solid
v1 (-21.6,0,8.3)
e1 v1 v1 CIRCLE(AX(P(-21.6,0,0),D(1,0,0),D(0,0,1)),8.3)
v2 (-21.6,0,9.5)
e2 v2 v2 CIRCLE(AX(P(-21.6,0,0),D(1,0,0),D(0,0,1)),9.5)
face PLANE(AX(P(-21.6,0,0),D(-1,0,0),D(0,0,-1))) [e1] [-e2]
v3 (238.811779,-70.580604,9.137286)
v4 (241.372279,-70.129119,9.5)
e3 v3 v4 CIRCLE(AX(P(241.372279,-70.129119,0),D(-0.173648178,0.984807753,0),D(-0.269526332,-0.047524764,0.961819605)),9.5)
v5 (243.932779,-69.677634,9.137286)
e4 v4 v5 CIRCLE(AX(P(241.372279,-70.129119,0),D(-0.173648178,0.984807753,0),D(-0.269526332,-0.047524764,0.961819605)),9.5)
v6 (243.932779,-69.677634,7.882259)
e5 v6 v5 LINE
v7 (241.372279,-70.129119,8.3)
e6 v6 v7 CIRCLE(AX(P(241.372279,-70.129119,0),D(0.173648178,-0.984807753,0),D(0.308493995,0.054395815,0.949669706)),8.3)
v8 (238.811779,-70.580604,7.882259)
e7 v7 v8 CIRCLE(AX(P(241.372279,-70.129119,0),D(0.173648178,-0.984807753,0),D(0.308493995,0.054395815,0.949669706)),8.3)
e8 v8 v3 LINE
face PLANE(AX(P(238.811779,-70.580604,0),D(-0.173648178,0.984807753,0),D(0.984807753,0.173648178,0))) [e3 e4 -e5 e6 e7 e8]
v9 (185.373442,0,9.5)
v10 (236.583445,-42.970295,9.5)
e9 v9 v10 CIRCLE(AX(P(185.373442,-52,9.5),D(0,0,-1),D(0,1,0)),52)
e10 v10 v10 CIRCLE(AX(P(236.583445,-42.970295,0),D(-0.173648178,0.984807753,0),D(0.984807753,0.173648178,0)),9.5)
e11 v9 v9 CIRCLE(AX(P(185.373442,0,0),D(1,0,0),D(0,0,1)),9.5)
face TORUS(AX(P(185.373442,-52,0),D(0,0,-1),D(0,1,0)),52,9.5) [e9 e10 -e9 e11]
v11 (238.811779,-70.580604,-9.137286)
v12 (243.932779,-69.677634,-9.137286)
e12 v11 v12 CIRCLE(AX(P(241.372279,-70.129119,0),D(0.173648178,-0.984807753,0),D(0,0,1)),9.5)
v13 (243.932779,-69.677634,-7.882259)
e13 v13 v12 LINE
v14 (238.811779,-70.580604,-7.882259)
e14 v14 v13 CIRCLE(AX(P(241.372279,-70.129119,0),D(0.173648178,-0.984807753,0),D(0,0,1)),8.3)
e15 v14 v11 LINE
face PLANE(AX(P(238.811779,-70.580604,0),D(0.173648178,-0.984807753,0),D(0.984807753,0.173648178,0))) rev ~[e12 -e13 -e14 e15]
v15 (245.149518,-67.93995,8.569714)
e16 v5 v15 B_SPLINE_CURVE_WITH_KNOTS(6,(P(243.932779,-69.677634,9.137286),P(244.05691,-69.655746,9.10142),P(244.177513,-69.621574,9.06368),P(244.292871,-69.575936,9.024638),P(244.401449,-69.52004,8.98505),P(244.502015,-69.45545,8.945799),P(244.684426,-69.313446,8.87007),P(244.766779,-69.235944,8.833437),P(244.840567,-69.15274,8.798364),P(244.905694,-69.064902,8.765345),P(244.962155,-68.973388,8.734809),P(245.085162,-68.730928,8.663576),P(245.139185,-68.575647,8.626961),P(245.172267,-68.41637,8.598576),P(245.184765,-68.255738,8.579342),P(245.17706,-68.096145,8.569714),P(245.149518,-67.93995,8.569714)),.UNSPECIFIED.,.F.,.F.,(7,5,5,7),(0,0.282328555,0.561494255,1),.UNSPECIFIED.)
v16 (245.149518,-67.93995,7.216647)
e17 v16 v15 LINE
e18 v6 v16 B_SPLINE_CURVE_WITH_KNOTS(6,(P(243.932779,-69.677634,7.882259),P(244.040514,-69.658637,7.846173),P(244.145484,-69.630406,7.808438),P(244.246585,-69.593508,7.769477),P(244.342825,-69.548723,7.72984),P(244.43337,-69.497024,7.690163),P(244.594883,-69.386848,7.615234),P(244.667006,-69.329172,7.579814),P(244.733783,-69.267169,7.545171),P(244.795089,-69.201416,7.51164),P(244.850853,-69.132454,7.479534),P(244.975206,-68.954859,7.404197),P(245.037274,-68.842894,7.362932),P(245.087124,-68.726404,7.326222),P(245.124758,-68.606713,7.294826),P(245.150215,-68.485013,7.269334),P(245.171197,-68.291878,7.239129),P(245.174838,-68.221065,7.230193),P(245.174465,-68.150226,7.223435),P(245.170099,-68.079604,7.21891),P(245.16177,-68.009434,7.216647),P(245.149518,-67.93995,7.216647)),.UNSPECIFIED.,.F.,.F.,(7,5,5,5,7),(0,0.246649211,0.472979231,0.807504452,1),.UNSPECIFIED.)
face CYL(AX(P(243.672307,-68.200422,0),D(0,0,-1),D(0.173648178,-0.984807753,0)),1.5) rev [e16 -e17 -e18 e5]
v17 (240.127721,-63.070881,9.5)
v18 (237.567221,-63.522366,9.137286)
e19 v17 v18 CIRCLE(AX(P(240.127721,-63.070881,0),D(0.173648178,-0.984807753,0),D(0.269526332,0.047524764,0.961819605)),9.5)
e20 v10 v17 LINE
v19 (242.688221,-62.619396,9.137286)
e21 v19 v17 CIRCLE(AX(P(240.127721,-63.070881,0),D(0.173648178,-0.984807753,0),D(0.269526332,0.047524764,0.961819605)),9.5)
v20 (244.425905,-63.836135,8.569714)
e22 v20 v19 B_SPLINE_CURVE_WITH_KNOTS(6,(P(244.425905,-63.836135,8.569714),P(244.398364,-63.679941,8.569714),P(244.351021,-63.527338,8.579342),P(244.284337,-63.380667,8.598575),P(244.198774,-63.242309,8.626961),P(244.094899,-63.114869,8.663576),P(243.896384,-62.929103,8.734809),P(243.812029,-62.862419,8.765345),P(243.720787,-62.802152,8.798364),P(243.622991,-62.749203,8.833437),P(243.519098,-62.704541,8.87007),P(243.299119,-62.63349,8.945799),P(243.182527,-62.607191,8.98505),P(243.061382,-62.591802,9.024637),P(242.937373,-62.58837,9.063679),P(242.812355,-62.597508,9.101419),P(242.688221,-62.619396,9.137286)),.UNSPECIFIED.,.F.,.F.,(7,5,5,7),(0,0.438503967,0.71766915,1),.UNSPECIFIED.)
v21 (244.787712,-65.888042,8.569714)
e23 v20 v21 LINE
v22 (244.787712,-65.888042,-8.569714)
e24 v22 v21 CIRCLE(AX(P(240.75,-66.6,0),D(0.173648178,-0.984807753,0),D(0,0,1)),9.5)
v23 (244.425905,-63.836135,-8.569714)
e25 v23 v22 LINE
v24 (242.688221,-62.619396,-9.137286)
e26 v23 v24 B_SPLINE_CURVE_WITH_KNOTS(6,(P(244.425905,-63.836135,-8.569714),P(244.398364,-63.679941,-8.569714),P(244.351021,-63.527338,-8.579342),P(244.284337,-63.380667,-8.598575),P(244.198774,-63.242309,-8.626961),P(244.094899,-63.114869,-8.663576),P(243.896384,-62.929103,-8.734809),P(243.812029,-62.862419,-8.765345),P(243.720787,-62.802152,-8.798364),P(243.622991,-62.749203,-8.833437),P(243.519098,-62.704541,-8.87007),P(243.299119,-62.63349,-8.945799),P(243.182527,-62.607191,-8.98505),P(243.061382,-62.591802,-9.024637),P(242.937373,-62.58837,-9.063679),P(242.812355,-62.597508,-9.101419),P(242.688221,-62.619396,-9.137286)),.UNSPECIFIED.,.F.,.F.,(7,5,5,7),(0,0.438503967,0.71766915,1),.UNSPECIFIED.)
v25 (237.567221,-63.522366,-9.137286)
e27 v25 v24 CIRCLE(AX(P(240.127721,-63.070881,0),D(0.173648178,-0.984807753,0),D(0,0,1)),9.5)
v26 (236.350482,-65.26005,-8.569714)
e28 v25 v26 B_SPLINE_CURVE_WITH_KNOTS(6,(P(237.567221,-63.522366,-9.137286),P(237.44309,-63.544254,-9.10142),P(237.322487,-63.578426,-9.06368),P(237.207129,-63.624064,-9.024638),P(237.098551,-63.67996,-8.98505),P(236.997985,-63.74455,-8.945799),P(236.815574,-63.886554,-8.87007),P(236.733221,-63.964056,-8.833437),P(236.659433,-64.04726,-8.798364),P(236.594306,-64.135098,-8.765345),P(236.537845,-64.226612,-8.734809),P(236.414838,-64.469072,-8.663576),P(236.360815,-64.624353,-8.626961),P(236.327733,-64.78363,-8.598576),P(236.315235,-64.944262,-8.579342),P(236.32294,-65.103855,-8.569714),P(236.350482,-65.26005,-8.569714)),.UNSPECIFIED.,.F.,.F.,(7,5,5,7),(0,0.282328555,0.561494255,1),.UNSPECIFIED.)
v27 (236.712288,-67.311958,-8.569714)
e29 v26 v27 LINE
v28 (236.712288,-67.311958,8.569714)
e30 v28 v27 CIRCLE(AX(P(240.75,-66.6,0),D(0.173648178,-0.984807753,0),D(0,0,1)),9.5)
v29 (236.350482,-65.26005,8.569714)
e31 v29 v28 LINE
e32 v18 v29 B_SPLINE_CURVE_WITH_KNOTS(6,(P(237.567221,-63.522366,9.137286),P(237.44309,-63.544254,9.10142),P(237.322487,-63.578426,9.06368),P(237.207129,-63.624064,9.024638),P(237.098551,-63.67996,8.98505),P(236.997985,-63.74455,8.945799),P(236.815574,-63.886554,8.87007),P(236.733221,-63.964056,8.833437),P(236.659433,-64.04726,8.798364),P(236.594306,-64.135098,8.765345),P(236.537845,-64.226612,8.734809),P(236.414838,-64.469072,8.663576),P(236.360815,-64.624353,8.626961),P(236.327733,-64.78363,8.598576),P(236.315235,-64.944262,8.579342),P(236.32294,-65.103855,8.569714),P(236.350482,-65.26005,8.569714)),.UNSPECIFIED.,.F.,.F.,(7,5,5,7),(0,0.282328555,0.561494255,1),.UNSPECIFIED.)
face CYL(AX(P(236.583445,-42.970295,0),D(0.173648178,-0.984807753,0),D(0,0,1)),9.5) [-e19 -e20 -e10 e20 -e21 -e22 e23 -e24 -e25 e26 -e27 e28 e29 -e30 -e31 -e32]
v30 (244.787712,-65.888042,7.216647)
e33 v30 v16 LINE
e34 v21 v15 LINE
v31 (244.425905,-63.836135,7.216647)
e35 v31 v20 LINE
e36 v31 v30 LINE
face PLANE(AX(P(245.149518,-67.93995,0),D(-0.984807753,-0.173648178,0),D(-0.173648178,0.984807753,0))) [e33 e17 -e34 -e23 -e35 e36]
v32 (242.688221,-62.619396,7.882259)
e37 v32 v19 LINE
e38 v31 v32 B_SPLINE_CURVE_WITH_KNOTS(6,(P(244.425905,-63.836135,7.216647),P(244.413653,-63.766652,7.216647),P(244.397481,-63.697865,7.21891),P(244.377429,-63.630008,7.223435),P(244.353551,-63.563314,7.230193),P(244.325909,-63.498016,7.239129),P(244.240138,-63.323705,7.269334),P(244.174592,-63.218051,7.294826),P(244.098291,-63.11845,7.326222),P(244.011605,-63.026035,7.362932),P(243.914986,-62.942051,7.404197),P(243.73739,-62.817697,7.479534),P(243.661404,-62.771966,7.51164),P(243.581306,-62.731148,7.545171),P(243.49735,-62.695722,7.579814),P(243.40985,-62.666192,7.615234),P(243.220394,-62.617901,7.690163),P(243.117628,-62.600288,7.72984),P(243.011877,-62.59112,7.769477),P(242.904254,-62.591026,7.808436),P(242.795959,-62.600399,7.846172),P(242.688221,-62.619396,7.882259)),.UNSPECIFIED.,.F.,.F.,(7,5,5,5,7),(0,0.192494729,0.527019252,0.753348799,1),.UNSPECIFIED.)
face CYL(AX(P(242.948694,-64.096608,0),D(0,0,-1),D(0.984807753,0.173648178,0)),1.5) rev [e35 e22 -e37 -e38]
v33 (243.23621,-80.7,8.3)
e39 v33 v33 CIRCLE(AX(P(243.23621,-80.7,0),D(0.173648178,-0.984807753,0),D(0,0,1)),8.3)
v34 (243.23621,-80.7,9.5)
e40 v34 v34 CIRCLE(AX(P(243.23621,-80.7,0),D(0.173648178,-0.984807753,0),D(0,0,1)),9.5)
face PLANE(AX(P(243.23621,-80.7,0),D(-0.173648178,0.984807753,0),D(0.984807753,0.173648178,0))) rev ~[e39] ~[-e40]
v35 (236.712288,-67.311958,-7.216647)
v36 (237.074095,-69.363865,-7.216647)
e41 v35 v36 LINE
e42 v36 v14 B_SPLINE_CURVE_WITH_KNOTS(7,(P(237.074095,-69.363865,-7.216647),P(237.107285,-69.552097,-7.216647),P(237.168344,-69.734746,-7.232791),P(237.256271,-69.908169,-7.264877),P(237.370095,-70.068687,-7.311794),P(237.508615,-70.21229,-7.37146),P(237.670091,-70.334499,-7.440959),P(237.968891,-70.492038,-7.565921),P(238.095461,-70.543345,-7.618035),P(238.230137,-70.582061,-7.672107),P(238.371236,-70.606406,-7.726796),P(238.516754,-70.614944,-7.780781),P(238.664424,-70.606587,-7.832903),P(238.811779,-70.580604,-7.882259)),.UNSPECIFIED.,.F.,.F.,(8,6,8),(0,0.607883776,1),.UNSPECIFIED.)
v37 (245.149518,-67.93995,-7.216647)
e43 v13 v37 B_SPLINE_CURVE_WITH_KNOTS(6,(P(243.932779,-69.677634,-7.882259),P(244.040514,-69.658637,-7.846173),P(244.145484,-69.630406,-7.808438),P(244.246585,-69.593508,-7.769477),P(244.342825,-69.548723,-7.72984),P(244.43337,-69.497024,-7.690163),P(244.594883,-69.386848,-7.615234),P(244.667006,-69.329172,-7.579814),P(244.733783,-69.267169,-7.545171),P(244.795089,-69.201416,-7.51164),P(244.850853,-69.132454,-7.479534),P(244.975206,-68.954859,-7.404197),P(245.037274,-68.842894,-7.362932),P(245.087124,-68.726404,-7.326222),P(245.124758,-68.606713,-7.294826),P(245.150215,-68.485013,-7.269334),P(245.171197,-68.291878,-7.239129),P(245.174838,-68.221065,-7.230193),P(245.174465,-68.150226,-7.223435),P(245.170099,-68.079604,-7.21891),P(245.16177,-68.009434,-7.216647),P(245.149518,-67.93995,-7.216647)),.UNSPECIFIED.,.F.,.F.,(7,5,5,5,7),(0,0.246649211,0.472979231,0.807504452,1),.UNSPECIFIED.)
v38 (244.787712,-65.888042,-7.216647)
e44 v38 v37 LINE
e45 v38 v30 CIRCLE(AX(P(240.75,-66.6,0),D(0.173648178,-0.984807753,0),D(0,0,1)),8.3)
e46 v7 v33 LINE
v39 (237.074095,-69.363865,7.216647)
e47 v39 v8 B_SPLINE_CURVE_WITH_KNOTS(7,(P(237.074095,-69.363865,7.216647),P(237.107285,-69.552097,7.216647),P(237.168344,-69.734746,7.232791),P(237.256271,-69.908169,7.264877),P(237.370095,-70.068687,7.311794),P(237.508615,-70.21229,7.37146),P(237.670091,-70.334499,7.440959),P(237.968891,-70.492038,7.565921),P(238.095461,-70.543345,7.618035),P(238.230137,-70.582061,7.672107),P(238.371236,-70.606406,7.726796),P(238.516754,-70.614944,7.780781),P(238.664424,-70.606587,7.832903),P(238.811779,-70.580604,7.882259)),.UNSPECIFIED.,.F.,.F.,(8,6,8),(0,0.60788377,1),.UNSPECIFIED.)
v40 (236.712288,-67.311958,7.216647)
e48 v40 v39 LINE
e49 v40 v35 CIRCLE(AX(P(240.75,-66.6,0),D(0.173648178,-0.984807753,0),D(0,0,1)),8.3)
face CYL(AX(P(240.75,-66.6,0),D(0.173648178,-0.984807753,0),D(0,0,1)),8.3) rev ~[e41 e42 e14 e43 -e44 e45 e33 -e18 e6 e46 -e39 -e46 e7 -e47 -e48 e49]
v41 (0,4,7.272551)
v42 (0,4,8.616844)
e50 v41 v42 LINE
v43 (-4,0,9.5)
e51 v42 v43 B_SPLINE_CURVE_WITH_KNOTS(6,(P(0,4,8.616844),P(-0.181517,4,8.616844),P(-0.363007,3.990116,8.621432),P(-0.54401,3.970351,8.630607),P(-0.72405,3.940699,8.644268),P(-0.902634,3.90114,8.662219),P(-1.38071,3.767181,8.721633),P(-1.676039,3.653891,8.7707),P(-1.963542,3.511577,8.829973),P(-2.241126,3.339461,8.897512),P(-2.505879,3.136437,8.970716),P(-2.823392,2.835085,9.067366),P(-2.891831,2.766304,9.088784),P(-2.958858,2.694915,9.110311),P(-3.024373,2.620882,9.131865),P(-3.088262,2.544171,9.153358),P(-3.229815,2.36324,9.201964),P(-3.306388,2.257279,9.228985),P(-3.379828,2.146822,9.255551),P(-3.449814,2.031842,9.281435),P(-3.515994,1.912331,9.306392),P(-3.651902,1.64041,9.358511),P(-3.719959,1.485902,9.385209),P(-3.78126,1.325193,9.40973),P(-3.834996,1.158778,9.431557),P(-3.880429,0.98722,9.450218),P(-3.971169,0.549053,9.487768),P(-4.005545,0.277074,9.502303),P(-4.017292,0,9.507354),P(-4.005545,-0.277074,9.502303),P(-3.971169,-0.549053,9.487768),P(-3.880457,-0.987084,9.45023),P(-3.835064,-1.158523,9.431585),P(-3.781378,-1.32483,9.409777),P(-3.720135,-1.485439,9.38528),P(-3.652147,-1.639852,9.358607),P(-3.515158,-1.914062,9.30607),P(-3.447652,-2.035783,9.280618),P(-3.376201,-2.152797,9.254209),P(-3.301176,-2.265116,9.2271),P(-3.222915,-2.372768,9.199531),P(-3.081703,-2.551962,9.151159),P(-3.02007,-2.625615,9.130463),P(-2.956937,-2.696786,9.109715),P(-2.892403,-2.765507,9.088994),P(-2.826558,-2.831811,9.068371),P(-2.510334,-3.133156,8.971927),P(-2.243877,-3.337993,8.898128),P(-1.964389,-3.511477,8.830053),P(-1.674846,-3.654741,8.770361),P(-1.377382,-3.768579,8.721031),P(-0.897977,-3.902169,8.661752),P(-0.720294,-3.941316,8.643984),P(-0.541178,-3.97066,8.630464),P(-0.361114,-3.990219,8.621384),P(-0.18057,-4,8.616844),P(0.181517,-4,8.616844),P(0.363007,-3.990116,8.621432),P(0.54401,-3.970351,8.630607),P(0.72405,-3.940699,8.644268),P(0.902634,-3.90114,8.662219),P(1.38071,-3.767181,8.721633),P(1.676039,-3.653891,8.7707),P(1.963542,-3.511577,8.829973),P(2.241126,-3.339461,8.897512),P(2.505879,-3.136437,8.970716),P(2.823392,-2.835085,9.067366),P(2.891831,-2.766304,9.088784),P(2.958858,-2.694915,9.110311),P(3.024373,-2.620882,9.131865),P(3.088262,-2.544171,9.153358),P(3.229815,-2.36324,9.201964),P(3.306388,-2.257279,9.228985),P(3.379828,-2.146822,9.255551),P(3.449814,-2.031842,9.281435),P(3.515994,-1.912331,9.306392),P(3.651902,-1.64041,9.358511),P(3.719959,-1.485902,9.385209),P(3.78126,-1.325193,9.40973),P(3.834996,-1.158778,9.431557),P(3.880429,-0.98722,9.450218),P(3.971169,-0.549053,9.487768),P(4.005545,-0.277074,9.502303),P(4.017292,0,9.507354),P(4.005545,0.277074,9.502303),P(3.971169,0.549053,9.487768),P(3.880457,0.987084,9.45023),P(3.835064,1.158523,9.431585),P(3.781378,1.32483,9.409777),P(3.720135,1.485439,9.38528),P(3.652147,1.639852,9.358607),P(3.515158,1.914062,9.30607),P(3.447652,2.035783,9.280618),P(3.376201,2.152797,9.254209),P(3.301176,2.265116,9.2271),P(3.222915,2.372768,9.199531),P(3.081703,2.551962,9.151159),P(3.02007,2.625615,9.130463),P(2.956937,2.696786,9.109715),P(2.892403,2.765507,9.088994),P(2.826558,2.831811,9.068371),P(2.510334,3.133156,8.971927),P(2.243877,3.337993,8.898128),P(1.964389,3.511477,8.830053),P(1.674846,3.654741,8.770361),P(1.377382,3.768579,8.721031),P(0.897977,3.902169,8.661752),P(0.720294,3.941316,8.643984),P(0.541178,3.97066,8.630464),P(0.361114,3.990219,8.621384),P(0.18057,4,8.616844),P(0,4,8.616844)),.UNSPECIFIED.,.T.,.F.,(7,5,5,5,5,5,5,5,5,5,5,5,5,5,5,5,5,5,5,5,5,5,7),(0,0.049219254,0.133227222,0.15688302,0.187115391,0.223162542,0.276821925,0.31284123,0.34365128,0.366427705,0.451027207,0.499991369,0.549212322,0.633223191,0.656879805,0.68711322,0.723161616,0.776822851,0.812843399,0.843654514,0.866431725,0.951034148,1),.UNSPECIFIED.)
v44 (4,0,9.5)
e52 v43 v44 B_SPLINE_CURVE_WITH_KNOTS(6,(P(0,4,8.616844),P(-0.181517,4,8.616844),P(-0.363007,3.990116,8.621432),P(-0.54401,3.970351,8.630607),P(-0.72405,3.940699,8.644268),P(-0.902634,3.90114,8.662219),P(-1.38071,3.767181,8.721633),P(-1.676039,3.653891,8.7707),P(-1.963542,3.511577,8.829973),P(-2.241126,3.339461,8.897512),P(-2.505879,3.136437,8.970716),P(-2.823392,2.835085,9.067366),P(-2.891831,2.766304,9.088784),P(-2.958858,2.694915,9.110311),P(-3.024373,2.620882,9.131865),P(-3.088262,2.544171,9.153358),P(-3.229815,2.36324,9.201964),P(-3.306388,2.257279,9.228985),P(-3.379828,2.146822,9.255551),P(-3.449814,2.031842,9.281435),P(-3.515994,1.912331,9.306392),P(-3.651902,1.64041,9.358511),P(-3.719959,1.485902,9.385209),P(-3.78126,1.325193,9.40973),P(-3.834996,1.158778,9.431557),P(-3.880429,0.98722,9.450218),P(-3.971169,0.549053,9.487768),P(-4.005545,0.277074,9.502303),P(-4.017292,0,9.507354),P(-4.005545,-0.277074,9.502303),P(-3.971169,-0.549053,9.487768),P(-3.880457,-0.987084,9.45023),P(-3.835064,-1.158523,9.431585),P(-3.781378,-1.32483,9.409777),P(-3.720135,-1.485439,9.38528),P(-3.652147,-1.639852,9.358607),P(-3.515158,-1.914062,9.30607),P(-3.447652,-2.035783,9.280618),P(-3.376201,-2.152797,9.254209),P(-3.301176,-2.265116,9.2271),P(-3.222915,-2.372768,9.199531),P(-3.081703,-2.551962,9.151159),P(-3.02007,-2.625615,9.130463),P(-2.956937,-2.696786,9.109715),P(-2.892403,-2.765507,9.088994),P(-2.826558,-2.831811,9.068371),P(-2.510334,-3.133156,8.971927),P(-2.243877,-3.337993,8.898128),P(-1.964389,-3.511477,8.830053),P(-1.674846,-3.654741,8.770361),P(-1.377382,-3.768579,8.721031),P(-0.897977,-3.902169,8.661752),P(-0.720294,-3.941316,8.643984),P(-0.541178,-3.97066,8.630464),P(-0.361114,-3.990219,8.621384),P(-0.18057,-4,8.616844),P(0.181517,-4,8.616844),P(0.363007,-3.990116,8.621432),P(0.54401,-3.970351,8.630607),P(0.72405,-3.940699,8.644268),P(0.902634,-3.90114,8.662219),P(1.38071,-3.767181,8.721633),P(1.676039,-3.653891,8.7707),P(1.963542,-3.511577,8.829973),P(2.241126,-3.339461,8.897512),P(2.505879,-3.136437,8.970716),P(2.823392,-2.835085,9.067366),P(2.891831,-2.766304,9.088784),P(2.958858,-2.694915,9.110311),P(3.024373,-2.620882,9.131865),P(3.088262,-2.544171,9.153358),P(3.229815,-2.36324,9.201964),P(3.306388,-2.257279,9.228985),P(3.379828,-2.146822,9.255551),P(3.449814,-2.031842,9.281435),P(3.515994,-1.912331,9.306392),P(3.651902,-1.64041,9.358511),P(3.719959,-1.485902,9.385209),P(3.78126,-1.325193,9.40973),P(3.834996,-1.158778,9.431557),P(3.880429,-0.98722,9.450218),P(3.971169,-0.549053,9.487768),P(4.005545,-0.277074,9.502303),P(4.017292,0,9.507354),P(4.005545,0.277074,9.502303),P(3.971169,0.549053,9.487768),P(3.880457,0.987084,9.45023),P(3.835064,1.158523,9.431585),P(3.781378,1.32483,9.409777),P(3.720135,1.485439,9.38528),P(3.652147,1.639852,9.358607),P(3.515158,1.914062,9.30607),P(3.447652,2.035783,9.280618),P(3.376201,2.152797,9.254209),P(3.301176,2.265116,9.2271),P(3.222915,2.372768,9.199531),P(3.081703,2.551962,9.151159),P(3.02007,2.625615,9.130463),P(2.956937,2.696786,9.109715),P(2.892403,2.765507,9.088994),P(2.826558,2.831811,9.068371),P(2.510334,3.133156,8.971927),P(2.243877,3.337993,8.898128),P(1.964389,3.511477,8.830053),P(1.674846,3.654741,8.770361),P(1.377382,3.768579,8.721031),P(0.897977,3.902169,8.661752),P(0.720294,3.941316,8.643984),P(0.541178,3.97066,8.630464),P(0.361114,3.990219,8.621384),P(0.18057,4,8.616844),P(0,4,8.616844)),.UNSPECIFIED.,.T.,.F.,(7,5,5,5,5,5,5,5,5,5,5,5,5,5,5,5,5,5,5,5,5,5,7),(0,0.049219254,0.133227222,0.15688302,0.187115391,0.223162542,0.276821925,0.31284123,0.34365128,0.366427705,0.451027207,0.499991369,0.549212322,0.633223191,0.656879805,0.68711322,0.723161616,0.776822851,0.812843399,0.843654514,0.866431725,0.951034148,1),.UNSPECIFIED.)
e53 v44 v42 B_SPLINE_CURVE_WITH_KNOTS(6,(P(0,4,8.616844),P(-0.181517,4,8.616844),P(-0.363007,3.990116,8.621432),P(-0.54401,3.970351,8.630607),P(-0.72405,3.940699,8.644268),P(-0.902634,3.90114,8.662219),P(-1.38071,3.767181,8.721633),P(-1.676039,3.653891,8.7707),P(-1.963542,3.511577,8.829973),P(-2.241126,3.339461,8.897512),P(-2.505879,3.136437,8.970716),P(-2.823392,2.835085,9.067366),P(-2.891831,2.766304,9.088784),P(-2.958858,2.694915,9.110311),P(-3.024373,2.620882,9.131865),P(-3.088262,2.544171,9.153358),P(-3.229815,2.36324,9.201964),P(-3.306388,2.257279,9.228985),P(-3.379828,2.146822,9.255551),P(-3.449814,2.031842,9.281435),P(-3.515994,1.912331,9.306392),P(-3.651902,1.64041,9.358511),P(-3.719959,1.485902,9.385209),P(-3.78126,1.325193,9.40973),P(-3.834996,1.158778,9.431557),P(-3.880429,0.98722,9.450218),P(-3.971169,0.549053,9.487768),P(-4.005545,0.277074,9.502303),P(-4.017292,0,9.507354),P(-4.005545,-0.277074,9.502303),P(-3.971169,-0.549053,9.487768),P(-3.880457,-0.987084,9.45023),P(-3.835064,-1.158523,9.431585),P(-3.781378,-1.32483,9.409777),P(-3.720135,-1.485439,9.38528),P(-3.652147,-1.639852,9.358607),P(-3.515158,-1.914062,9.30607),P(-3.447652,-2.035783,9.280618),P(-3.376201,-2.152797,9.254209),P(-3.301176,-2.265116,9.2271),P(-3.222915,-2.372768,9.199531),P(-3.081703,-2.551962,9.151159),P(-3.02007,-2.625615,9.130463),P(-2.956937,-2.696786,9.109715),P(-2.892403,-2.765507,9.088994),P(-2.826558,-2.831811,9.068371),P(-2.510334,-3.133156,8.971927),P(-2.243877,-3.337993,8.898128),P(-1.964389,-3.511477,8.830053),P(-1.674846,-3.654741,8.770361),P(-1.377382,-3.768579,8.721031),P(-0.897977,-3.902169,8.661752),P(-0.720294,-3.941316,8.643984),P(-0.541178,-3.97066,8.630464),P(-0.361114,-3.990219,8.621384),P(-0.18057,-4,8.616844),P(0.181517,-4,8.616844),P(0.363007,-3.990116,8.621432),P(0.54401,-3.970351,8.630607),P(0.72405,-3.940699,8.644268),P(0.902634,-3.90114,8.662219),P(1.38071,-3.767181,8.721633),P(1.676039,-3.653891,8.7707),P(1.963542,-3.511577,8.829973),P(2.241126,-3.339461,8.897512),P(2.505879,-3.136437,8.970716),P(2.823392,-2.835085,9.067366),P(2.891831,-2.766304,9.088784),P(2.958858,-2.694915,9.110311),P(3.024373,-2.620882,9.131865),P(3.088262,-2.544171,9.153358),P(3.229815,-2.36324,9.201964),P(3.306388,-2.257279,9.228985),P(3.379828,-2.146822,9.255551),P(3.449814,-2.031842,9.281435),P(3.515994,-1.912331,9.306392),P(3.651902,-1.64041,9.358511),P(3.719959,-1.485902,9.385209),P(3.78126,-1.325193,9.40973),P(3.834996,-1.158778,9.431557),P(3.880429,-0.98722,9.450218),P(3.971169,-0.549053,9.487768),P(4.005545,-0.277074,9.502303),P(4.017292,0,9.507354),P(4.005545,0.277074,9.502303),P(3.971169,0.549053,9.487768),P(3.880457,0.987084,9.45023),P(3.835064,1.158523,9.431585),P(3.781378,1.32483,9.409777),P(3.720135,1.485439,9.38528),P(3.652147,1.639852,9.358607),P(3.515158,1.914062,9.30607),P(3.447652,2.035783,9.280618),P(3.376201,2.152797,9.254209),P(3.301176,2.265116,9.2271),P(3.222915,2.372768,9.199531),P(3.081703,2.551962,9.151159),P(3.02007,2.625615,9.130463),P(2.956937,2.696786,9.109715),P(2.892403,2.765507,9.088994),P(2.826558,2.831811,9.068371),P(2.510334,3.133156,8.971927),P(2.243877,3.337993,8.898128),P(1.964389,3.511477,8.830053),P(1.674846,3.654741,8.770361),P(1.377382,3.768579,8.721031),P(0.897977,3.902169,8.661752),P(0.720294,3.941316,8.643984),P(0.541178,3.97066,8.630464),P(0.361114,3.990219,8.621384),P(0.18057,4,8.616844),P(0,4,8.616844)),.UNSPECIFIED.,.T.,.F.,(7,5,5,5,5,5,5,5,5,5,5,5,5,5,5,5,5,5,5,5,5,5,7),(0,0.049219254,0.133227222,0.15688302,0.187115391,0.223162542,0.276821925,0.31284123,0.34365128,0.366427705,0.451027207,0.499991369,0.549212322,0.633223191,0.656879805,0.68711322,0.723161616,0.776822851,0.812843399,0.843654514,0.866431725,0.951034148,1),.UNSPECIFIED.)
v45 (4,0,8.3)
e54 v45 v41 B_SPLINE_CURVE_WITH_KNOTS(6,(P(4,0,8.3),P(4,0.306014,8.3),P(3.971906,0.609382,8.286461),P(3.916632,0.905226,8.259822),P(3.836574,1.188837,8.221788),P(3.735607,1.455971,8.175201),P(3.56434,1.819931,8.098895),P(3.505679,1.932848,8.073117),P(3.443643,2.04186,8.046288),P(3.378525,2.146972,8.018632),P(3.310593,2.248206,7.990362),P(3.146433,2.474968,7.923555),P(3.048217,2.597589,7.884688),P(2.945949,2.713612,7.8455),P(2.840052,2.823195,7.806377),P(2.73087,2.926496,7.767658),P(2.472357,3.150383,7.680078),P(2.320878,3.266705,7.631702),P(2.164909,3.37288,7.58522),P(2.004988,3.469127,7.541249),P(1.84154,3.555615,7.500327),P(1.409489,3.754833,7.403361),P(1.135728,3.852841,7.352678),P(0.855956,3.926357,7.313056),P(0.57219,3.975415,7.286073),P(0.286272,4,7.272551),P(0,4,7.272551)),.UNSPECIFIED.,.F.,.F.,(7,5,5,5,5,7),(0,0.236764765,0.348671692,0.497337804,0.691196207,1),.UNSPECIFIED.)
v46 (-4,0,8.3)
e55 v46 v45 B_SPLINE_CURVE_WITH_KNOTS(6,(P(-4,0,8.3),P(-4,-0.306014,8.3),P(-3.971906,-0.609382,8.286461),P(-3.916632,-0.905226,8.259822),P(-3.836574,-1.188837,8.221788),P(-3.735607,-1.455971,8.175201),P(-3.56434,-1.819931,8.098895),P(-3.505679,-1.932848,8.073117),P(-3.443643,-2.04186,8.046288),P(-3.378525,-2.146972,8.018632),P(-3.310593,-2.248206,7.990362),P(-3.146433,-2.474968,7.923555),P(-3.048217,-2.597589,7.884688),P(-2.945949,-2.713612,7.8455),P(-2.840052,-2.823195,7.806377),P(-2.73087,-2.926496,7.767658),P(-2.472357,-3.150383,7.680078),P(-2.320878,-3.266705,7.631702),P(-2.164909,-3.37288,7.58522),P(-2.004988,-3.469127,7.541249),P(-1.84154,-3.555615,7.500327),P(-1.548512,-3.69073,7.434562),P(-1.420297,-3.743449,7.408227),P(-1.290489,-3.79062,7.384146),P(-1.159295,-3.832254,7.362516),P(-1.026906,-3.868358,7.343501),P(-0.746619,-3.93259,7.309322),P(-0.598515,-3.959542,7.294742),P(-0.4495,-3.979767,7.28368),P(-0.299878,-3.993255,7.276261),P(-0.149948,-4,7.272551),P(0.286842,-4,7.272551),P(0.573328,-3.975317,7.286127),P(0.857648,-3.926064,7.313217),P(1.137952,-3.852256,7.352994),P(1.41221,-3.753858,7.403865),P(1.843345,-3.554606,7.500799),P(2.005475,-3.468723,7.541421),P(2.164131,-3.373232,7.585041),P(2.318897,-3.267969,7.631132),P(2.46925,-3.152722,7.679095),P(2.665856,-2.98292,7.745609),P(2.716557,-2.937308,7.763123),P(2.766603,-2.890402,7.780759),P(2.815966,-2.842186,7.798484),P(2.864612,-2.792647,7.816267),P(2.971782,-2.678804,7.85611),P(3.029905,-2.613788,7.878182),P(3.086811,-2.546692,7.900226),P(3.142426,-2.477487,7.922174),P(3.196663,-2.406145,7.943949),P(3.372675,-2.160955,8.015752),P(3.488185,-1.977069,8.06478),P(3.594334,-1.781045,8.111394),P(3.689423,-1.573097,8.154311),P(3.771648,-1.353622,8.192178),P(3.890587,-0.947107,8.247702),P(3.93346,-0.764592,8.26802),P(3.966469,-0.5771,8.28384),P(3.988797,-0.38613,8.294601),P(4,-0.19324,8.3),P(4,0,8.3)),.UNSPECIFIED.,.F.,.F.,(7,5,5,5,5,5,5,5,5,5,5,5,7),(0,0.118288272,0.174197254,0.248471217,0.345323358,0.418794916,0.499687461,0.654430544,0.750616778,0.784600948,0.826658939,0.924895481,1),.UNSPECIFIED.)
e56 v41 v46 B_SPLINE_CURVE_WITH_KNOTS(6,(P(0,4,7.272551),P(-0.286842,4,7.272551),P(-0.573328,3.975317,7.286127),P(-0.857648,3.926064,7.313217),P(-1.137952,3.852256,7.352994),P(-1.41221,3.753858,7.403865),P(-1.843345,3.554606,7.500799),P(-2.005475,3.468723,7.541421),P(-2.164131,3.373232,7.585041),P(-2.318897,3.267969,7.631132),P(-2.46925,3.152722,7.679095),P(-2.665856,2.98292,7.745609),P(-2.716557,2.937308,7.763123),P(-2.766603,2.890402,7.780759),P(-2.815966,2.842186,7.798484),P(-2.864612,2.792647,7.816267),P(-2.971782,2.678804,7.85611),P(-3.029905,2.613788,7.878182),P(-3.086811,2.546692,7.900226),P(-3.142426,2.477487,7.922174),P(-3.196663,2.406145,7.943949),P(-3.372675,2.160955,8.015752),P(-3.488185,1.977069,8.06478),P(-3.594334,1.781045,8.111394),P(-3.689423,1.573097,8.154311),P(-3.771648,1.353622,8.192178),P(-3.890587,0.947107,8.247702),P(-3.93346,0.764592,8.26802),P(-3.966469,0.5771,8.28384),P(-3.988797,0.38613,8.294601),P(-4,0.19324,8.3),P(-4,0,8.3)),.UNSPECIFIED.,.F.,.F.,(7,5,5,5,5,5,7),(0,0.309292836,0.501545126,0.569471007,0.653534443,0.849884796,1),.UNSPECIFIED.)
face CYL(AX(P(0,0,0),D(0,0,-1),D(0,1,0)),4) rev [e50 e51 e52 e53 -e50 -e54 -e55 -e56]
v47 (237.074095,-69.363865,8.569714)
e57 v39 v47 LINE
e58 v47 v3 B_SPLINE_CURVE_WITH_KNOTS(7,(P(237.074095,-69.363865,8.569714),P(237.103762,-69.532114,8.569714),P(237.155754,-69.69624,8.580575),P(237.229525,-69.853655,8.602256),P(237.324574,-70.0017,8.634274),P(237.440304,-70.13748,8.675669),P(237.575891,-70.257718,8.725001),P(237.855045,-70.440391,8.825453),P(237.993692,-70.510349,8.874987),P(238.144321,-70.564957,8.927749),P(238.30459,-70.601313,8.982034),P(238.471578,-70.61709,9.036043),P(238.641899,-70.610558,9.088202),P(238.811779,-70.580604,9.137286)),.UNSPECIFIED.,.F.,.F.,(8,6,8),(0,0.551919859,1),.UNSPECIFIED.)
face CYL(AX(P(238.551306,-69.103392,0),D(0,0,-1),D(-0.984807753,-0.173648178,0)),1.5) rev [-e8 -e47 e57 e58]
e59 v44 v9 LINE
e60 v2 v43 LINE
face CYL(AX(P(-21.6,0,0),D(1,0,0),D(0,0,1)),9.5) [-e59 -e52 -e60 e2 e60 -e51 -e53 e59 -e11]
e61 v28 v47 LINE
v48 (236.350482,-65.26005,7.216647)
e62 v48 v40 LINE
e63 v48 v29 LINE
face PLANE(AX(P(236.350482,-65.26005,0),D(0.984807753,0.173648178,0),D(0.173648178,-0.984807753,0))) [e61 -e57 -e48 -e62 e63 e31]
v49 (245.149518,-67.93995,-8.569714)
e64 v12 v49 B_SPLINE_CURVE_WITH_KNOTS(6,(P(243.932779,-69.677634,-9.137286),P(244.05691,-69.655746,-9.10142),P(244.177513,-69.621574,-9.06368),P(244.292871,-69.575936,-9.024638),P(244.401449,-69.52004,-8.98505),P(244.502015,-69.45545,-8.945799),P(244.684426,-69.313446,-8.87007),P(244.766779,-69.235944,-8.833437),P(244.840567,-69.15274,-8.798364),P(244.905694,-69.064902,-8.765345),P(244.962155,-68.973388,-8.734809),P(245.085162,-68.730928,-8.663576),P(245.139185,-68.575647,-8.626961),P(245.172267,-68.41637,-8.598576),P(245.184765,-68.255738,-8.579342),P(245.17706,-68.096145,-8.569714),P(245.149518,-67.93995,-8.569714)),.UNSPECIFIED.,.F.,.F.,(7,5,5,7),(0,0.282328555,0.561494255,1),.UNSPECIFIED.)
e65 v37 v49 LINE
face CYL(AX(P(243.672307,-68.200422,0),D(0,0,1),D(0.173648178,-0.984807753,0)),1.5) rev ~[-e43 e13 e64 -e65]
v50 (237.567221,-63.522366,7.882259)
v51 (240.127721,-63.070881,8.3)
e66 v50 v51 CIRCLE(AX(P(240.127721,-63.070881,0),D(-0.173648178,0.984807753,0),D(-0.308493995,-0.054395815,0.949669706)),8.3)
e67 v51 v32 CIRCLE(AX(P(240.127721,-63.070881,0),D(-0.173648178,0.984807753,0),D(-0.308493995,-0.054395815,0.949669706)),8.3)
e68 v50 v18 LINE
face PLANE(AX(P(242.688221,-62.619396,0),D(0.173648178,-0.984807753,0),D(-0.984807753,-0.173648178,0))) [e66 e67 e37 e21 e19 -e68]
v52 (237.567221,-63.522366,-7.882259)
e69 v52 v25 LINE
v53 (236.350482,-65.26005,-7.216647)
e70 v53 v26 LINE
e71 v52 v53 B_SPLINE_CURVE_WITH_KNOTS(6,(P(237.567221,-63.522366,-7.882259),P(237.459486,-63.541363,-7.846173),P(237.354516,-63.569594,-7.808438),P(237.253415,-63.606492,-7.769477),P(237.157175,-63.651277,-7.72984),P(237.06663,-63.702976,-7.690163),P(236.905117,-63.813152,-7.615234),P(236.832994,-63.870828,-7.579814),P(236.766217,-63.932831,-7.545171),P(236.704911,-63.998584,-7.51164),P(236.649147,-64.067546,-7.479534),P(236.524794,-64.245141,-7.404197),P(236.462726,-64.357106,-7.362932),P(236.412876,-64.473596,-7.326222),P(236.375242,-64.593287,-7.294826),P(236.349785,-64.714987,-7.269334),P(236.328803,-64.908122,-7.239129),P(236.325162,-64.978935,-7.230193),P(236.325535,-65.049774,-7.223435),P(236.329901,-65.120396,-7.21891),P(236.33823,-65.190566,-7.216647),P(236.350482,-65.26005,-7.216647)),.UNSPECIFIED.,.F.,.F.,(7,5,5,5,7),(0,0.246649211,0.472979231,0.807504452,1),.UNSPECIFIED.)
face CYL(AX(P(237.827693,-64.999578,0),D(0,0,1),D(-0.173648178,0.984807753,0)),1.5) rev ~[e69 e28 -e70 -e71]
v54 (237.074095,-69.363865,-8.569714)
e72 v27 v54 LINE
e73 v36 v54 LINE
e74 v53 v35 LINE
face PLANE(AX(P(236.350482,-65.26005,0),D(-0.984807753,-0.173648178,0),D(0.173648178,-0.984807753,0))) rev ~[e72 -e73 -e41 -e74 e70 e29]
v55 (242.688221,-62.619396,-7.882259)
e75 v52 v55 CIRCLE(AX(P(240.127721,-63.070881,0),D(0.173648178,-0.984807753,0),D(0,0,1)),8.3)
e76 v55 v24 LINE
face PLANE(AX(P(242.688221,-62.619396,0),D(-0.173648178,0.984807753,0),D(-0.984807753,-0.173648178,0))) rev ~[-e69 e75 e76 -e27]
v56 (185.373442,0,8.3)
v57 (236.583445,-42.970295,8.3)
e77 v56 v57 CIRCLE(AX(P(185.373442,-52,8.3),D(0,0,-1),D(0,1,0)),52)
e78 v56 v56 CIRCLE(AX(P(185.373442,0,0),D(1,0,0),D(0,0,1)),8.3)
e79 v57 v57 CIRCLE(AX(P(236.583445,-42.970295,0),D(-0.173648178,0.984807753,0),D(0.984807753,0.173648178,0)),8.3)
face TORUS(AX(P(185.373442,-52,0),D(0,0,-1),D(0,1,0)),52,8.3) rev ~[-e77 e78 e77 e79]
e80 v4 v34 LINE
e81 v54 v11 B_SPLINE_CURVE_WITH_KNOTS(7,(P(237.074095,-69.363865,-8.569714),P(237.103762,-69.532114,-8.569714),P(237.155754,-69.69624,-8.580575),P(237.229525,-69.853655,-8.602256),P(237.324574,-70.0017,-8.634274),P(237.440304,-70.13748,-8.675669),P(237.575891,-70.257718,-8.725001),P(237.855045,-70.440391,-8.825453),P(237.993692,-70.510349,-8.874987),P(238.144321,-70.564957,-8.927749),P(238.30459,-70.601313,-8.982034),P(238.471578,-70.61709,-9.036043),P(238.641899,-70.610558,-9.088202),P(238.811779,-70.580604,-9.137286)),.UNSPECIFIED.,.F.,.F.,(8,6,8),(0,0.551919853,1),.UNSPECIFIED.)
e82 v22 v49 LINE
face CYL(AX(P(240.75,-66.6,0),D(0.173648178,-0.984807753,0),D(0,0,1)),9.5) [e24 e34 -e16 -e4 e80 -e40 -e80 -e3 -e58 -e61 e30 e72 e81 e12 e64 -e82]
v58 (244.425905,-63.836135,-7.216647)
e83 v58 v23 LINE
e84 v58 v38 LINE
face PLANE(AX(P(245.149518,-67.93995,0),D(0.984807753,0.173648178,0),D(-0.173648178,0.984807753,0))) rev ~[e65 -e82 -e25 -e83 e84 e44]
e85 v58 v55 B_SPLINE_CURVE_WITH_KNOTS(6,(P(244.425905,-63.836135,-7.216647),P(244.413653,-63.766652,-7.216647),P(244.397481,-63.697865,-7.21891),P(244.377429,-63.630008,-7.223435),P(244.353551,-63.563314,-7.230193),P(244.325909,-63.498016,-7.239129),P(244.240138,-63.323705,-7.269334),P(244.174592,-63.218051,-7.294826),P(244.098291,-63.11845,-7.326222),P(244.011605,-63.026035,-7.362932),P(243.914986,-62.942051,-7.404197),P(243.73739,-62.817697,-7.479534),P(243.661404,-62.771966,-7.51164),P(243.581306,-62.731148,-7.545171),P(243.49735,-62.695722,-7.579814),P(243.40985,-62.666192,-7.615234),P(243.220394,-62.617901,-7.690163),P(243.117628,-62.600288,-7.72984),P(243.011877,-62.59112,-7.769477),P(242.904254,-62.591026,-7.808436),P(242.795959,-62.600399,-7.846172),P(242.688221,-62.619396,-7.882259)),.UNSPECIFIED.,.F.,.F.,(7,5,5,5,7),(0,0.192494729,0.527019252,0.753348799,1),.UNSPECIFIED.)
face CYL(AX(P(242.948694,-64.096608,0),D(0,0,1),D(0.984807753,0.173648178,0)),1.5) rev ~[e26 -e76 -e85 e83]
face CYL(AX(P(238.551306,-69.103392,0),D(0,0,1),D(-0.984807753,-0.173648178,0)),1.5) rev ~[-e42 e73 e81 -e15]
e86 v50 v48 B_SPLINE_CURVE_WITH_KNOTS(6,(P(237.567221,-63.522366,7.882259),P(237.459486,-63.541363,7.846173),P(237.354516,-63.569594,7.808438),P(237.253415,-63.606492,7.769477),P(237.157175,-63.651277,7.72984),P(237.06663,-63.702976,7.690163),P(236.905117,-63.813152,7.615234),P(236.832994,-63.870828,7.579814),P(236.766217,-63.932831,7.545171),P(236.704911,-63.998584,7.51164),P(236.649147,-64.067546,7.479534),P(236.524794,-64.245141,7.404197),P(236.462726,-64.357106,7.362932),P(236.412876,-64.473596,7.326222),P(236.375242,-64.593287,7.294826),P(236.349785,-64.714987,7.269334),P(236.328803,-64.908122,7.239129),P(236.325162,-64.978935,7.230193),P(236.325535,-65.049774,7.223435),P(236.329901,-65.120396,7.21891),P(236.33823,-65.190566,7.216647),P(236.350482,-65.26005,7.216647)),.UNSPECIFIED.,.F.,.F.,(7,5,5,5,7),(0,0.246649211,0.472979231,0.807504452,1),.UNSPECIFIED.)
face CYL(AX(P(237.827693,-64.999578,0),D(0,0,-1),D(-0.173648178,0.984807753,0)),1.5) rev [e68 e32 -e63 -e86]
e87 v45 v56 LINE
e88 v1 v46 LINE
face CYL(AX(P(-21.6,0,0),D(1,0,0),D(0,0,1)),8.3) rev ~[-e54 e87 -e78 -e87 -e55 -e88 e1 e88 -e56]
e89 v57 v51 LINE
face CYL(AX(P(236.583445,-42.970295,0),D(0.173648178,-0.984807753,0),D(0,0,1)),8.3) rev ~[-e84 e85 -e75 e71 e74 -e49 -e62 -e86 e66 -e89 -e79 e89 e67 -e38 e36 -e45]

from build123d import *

# Parameters (mm, degrees)
SKETCH2_R                      = 9.5
SKETCH2_R_2                    = 8.3
CUT_EXTRUDE1_REACH             = 267.847
CUT_EXTRUDE1_DIRECTION_2_REACH = 267.847
CUT_EXTRUDE2_REACH             = 267.847
CUT_EXTRUDE2_END_RADIUS        = 9.5
SKETCH4_R                      = 4


with BuildPart() as part:
    # Sweep1: sweep along a path in Sketch1
    with BuildLine(Plane.XY) as sweep1_path:
        Line((-21.6, 0), (0, 0))
        Line((0, 0), (185.373442264, 0))
        ThreePointArc((185.373442264, 0), (218.798397967, -12.165688958), (236.58344542, -42.970294761))
        Line((236.58344542, -42.970294761), (240.75, -66.6))
        Line((240.75, -66.6), (243.236210428, -80.7))
    # Sketch2 → Sweep1 (sweep)
    with BuildSketch(Plane.ZY.offset(21.6)):
        Circle(SKETCH2_R)
        Circle(SKETCH2_R_2, mode=Mode.SUBTRACT)
    sweep(path=sweep1_path.line)

    # Sketch3 → Cut-Extrude1 (cut, up to next)
    with BuildSketch(Plane.XY, mode=Mode.PRIVATE) as cut_extrude1_sk1:
        with BuildLine():
            Line((245.149518391, -67.939949686), (244.425905183, -63.836135257))
            ThreePointArc((244.425905183, -63.836135257), (243.809058208, -62.867879457), (242.688221287, -62.619395894))
            Line((242.688221287, -62.619395894), (237.567220972, -63.522366418))
            ThreePointArc((237.567220972, -63.522366418), (236.598965172, -64.139213393), (236.350481609, -65.260050314))
            Line((236.350481609, -65.260050314), (237.074094817, -69.363864743))
            ThreePointArc((237.074094817, -69.363864743), (237.690941792, -70.332120543), (238.811778713, -70.580604106))
            Line((238.811778713, -70.580604106), (243.932779028, -69.677633582))
            ThreePointArc((243.932779028, -69.677633582), (244.901034828, -69.060786607), (245.149518391, -67.939949686))
        make_face()
    cut_extrude1_tool1 = extrude(cut_extrude1_sk1.sketch, amount=-CUT_EXTRUDE1_REACH, mode=Mode.PRIVATE) & part.part
    add(cut_extrude1_tool1.solids().sort_by_distance((240.75, -66.6, 0))[0], mode=Mode.SUBTRACT)

    # Sketch3 → Cut-Extrude1 direction 2 (cut, up to next)
    with BuildSketch(Plane.XY, mode=Mode.PRIVATE) as cut_extrude1_direction_2_sk1:
        with BuildLine():
            Line((245.149518391, -67.939949686), (244.425905183, -63.836135257))
            ThreePointArc((244.425905183, -63.836135257), (243.809058208, -62.867879457), (242.688221287, -62.619395894))
            Line((242.688221287, -62.619395894), (237.567220972, -63.522366418))
            ThreePointArc((237.567220972, -63.522366418), (236.598965172, -64.139213393), (236.350481609, -65.260050314))
            Line((236.350481609, -65.260050314), (237.074094817, -69.363864743))
            ThreePointArc((237.074094817, -69.363864743), (237.690941792, -70.332120543), (238.811778713, -70.580604106))
            Line((238.811778713, -70.580604106), (243.932779028, -69.677633582))
            ThreePointArc((243.932779028, -69.677633582), (244.901034828, -69.060786607), (245.149518391, -67.939949686))
        make_face()
    cut_extrude1_direction_2_tool1 = extrude(cut_extrude1_direction_2_sk1.sketch, amount=CUT_EXTRUDE1_DIRECTION_2_REACH, mode=Mode.PRIVATE) & part.part
    add(cut_extrude1_direction_2_tool1.solids().sort_by_distance((240.75, -66.6, 0))[0], mode=Mode.SUBTRACT)

    # Cut-Extrude2: up to this cylinder (the profile starts inside it)
    cut_extrude2_end = Plane(origin=(0, 0, 0), z_dir=(-1, 0, 0)) * Cylinder(CUT_EXTRUDE2_END_RADIUS, 555.694, mode=Mode.PRIVATE)
    # Sketch4 → Cut-Extrude2 (cut, up to the surface)
    with BuildSketch(Plane.XY, mode=Mode.PRIVATE) as cut_extrude2_sk1:
        with Locations(Location((0, 0, 0), (0, 0, 90))):
            Circle(SKETCH4_R)
    cut_extrude2_tool1 = extrude(cut_extrude2_sk1.sketch, amount=CUT_EXTRUDE2_REACH, mode=Mode.PRIVATE) & cut_extrude2_end
    add(cut_extrude2_tool1.solids().sort_by_distance((0, 0, 0))[0], mode=Mode.SUBTRACT)


solid = part.part
